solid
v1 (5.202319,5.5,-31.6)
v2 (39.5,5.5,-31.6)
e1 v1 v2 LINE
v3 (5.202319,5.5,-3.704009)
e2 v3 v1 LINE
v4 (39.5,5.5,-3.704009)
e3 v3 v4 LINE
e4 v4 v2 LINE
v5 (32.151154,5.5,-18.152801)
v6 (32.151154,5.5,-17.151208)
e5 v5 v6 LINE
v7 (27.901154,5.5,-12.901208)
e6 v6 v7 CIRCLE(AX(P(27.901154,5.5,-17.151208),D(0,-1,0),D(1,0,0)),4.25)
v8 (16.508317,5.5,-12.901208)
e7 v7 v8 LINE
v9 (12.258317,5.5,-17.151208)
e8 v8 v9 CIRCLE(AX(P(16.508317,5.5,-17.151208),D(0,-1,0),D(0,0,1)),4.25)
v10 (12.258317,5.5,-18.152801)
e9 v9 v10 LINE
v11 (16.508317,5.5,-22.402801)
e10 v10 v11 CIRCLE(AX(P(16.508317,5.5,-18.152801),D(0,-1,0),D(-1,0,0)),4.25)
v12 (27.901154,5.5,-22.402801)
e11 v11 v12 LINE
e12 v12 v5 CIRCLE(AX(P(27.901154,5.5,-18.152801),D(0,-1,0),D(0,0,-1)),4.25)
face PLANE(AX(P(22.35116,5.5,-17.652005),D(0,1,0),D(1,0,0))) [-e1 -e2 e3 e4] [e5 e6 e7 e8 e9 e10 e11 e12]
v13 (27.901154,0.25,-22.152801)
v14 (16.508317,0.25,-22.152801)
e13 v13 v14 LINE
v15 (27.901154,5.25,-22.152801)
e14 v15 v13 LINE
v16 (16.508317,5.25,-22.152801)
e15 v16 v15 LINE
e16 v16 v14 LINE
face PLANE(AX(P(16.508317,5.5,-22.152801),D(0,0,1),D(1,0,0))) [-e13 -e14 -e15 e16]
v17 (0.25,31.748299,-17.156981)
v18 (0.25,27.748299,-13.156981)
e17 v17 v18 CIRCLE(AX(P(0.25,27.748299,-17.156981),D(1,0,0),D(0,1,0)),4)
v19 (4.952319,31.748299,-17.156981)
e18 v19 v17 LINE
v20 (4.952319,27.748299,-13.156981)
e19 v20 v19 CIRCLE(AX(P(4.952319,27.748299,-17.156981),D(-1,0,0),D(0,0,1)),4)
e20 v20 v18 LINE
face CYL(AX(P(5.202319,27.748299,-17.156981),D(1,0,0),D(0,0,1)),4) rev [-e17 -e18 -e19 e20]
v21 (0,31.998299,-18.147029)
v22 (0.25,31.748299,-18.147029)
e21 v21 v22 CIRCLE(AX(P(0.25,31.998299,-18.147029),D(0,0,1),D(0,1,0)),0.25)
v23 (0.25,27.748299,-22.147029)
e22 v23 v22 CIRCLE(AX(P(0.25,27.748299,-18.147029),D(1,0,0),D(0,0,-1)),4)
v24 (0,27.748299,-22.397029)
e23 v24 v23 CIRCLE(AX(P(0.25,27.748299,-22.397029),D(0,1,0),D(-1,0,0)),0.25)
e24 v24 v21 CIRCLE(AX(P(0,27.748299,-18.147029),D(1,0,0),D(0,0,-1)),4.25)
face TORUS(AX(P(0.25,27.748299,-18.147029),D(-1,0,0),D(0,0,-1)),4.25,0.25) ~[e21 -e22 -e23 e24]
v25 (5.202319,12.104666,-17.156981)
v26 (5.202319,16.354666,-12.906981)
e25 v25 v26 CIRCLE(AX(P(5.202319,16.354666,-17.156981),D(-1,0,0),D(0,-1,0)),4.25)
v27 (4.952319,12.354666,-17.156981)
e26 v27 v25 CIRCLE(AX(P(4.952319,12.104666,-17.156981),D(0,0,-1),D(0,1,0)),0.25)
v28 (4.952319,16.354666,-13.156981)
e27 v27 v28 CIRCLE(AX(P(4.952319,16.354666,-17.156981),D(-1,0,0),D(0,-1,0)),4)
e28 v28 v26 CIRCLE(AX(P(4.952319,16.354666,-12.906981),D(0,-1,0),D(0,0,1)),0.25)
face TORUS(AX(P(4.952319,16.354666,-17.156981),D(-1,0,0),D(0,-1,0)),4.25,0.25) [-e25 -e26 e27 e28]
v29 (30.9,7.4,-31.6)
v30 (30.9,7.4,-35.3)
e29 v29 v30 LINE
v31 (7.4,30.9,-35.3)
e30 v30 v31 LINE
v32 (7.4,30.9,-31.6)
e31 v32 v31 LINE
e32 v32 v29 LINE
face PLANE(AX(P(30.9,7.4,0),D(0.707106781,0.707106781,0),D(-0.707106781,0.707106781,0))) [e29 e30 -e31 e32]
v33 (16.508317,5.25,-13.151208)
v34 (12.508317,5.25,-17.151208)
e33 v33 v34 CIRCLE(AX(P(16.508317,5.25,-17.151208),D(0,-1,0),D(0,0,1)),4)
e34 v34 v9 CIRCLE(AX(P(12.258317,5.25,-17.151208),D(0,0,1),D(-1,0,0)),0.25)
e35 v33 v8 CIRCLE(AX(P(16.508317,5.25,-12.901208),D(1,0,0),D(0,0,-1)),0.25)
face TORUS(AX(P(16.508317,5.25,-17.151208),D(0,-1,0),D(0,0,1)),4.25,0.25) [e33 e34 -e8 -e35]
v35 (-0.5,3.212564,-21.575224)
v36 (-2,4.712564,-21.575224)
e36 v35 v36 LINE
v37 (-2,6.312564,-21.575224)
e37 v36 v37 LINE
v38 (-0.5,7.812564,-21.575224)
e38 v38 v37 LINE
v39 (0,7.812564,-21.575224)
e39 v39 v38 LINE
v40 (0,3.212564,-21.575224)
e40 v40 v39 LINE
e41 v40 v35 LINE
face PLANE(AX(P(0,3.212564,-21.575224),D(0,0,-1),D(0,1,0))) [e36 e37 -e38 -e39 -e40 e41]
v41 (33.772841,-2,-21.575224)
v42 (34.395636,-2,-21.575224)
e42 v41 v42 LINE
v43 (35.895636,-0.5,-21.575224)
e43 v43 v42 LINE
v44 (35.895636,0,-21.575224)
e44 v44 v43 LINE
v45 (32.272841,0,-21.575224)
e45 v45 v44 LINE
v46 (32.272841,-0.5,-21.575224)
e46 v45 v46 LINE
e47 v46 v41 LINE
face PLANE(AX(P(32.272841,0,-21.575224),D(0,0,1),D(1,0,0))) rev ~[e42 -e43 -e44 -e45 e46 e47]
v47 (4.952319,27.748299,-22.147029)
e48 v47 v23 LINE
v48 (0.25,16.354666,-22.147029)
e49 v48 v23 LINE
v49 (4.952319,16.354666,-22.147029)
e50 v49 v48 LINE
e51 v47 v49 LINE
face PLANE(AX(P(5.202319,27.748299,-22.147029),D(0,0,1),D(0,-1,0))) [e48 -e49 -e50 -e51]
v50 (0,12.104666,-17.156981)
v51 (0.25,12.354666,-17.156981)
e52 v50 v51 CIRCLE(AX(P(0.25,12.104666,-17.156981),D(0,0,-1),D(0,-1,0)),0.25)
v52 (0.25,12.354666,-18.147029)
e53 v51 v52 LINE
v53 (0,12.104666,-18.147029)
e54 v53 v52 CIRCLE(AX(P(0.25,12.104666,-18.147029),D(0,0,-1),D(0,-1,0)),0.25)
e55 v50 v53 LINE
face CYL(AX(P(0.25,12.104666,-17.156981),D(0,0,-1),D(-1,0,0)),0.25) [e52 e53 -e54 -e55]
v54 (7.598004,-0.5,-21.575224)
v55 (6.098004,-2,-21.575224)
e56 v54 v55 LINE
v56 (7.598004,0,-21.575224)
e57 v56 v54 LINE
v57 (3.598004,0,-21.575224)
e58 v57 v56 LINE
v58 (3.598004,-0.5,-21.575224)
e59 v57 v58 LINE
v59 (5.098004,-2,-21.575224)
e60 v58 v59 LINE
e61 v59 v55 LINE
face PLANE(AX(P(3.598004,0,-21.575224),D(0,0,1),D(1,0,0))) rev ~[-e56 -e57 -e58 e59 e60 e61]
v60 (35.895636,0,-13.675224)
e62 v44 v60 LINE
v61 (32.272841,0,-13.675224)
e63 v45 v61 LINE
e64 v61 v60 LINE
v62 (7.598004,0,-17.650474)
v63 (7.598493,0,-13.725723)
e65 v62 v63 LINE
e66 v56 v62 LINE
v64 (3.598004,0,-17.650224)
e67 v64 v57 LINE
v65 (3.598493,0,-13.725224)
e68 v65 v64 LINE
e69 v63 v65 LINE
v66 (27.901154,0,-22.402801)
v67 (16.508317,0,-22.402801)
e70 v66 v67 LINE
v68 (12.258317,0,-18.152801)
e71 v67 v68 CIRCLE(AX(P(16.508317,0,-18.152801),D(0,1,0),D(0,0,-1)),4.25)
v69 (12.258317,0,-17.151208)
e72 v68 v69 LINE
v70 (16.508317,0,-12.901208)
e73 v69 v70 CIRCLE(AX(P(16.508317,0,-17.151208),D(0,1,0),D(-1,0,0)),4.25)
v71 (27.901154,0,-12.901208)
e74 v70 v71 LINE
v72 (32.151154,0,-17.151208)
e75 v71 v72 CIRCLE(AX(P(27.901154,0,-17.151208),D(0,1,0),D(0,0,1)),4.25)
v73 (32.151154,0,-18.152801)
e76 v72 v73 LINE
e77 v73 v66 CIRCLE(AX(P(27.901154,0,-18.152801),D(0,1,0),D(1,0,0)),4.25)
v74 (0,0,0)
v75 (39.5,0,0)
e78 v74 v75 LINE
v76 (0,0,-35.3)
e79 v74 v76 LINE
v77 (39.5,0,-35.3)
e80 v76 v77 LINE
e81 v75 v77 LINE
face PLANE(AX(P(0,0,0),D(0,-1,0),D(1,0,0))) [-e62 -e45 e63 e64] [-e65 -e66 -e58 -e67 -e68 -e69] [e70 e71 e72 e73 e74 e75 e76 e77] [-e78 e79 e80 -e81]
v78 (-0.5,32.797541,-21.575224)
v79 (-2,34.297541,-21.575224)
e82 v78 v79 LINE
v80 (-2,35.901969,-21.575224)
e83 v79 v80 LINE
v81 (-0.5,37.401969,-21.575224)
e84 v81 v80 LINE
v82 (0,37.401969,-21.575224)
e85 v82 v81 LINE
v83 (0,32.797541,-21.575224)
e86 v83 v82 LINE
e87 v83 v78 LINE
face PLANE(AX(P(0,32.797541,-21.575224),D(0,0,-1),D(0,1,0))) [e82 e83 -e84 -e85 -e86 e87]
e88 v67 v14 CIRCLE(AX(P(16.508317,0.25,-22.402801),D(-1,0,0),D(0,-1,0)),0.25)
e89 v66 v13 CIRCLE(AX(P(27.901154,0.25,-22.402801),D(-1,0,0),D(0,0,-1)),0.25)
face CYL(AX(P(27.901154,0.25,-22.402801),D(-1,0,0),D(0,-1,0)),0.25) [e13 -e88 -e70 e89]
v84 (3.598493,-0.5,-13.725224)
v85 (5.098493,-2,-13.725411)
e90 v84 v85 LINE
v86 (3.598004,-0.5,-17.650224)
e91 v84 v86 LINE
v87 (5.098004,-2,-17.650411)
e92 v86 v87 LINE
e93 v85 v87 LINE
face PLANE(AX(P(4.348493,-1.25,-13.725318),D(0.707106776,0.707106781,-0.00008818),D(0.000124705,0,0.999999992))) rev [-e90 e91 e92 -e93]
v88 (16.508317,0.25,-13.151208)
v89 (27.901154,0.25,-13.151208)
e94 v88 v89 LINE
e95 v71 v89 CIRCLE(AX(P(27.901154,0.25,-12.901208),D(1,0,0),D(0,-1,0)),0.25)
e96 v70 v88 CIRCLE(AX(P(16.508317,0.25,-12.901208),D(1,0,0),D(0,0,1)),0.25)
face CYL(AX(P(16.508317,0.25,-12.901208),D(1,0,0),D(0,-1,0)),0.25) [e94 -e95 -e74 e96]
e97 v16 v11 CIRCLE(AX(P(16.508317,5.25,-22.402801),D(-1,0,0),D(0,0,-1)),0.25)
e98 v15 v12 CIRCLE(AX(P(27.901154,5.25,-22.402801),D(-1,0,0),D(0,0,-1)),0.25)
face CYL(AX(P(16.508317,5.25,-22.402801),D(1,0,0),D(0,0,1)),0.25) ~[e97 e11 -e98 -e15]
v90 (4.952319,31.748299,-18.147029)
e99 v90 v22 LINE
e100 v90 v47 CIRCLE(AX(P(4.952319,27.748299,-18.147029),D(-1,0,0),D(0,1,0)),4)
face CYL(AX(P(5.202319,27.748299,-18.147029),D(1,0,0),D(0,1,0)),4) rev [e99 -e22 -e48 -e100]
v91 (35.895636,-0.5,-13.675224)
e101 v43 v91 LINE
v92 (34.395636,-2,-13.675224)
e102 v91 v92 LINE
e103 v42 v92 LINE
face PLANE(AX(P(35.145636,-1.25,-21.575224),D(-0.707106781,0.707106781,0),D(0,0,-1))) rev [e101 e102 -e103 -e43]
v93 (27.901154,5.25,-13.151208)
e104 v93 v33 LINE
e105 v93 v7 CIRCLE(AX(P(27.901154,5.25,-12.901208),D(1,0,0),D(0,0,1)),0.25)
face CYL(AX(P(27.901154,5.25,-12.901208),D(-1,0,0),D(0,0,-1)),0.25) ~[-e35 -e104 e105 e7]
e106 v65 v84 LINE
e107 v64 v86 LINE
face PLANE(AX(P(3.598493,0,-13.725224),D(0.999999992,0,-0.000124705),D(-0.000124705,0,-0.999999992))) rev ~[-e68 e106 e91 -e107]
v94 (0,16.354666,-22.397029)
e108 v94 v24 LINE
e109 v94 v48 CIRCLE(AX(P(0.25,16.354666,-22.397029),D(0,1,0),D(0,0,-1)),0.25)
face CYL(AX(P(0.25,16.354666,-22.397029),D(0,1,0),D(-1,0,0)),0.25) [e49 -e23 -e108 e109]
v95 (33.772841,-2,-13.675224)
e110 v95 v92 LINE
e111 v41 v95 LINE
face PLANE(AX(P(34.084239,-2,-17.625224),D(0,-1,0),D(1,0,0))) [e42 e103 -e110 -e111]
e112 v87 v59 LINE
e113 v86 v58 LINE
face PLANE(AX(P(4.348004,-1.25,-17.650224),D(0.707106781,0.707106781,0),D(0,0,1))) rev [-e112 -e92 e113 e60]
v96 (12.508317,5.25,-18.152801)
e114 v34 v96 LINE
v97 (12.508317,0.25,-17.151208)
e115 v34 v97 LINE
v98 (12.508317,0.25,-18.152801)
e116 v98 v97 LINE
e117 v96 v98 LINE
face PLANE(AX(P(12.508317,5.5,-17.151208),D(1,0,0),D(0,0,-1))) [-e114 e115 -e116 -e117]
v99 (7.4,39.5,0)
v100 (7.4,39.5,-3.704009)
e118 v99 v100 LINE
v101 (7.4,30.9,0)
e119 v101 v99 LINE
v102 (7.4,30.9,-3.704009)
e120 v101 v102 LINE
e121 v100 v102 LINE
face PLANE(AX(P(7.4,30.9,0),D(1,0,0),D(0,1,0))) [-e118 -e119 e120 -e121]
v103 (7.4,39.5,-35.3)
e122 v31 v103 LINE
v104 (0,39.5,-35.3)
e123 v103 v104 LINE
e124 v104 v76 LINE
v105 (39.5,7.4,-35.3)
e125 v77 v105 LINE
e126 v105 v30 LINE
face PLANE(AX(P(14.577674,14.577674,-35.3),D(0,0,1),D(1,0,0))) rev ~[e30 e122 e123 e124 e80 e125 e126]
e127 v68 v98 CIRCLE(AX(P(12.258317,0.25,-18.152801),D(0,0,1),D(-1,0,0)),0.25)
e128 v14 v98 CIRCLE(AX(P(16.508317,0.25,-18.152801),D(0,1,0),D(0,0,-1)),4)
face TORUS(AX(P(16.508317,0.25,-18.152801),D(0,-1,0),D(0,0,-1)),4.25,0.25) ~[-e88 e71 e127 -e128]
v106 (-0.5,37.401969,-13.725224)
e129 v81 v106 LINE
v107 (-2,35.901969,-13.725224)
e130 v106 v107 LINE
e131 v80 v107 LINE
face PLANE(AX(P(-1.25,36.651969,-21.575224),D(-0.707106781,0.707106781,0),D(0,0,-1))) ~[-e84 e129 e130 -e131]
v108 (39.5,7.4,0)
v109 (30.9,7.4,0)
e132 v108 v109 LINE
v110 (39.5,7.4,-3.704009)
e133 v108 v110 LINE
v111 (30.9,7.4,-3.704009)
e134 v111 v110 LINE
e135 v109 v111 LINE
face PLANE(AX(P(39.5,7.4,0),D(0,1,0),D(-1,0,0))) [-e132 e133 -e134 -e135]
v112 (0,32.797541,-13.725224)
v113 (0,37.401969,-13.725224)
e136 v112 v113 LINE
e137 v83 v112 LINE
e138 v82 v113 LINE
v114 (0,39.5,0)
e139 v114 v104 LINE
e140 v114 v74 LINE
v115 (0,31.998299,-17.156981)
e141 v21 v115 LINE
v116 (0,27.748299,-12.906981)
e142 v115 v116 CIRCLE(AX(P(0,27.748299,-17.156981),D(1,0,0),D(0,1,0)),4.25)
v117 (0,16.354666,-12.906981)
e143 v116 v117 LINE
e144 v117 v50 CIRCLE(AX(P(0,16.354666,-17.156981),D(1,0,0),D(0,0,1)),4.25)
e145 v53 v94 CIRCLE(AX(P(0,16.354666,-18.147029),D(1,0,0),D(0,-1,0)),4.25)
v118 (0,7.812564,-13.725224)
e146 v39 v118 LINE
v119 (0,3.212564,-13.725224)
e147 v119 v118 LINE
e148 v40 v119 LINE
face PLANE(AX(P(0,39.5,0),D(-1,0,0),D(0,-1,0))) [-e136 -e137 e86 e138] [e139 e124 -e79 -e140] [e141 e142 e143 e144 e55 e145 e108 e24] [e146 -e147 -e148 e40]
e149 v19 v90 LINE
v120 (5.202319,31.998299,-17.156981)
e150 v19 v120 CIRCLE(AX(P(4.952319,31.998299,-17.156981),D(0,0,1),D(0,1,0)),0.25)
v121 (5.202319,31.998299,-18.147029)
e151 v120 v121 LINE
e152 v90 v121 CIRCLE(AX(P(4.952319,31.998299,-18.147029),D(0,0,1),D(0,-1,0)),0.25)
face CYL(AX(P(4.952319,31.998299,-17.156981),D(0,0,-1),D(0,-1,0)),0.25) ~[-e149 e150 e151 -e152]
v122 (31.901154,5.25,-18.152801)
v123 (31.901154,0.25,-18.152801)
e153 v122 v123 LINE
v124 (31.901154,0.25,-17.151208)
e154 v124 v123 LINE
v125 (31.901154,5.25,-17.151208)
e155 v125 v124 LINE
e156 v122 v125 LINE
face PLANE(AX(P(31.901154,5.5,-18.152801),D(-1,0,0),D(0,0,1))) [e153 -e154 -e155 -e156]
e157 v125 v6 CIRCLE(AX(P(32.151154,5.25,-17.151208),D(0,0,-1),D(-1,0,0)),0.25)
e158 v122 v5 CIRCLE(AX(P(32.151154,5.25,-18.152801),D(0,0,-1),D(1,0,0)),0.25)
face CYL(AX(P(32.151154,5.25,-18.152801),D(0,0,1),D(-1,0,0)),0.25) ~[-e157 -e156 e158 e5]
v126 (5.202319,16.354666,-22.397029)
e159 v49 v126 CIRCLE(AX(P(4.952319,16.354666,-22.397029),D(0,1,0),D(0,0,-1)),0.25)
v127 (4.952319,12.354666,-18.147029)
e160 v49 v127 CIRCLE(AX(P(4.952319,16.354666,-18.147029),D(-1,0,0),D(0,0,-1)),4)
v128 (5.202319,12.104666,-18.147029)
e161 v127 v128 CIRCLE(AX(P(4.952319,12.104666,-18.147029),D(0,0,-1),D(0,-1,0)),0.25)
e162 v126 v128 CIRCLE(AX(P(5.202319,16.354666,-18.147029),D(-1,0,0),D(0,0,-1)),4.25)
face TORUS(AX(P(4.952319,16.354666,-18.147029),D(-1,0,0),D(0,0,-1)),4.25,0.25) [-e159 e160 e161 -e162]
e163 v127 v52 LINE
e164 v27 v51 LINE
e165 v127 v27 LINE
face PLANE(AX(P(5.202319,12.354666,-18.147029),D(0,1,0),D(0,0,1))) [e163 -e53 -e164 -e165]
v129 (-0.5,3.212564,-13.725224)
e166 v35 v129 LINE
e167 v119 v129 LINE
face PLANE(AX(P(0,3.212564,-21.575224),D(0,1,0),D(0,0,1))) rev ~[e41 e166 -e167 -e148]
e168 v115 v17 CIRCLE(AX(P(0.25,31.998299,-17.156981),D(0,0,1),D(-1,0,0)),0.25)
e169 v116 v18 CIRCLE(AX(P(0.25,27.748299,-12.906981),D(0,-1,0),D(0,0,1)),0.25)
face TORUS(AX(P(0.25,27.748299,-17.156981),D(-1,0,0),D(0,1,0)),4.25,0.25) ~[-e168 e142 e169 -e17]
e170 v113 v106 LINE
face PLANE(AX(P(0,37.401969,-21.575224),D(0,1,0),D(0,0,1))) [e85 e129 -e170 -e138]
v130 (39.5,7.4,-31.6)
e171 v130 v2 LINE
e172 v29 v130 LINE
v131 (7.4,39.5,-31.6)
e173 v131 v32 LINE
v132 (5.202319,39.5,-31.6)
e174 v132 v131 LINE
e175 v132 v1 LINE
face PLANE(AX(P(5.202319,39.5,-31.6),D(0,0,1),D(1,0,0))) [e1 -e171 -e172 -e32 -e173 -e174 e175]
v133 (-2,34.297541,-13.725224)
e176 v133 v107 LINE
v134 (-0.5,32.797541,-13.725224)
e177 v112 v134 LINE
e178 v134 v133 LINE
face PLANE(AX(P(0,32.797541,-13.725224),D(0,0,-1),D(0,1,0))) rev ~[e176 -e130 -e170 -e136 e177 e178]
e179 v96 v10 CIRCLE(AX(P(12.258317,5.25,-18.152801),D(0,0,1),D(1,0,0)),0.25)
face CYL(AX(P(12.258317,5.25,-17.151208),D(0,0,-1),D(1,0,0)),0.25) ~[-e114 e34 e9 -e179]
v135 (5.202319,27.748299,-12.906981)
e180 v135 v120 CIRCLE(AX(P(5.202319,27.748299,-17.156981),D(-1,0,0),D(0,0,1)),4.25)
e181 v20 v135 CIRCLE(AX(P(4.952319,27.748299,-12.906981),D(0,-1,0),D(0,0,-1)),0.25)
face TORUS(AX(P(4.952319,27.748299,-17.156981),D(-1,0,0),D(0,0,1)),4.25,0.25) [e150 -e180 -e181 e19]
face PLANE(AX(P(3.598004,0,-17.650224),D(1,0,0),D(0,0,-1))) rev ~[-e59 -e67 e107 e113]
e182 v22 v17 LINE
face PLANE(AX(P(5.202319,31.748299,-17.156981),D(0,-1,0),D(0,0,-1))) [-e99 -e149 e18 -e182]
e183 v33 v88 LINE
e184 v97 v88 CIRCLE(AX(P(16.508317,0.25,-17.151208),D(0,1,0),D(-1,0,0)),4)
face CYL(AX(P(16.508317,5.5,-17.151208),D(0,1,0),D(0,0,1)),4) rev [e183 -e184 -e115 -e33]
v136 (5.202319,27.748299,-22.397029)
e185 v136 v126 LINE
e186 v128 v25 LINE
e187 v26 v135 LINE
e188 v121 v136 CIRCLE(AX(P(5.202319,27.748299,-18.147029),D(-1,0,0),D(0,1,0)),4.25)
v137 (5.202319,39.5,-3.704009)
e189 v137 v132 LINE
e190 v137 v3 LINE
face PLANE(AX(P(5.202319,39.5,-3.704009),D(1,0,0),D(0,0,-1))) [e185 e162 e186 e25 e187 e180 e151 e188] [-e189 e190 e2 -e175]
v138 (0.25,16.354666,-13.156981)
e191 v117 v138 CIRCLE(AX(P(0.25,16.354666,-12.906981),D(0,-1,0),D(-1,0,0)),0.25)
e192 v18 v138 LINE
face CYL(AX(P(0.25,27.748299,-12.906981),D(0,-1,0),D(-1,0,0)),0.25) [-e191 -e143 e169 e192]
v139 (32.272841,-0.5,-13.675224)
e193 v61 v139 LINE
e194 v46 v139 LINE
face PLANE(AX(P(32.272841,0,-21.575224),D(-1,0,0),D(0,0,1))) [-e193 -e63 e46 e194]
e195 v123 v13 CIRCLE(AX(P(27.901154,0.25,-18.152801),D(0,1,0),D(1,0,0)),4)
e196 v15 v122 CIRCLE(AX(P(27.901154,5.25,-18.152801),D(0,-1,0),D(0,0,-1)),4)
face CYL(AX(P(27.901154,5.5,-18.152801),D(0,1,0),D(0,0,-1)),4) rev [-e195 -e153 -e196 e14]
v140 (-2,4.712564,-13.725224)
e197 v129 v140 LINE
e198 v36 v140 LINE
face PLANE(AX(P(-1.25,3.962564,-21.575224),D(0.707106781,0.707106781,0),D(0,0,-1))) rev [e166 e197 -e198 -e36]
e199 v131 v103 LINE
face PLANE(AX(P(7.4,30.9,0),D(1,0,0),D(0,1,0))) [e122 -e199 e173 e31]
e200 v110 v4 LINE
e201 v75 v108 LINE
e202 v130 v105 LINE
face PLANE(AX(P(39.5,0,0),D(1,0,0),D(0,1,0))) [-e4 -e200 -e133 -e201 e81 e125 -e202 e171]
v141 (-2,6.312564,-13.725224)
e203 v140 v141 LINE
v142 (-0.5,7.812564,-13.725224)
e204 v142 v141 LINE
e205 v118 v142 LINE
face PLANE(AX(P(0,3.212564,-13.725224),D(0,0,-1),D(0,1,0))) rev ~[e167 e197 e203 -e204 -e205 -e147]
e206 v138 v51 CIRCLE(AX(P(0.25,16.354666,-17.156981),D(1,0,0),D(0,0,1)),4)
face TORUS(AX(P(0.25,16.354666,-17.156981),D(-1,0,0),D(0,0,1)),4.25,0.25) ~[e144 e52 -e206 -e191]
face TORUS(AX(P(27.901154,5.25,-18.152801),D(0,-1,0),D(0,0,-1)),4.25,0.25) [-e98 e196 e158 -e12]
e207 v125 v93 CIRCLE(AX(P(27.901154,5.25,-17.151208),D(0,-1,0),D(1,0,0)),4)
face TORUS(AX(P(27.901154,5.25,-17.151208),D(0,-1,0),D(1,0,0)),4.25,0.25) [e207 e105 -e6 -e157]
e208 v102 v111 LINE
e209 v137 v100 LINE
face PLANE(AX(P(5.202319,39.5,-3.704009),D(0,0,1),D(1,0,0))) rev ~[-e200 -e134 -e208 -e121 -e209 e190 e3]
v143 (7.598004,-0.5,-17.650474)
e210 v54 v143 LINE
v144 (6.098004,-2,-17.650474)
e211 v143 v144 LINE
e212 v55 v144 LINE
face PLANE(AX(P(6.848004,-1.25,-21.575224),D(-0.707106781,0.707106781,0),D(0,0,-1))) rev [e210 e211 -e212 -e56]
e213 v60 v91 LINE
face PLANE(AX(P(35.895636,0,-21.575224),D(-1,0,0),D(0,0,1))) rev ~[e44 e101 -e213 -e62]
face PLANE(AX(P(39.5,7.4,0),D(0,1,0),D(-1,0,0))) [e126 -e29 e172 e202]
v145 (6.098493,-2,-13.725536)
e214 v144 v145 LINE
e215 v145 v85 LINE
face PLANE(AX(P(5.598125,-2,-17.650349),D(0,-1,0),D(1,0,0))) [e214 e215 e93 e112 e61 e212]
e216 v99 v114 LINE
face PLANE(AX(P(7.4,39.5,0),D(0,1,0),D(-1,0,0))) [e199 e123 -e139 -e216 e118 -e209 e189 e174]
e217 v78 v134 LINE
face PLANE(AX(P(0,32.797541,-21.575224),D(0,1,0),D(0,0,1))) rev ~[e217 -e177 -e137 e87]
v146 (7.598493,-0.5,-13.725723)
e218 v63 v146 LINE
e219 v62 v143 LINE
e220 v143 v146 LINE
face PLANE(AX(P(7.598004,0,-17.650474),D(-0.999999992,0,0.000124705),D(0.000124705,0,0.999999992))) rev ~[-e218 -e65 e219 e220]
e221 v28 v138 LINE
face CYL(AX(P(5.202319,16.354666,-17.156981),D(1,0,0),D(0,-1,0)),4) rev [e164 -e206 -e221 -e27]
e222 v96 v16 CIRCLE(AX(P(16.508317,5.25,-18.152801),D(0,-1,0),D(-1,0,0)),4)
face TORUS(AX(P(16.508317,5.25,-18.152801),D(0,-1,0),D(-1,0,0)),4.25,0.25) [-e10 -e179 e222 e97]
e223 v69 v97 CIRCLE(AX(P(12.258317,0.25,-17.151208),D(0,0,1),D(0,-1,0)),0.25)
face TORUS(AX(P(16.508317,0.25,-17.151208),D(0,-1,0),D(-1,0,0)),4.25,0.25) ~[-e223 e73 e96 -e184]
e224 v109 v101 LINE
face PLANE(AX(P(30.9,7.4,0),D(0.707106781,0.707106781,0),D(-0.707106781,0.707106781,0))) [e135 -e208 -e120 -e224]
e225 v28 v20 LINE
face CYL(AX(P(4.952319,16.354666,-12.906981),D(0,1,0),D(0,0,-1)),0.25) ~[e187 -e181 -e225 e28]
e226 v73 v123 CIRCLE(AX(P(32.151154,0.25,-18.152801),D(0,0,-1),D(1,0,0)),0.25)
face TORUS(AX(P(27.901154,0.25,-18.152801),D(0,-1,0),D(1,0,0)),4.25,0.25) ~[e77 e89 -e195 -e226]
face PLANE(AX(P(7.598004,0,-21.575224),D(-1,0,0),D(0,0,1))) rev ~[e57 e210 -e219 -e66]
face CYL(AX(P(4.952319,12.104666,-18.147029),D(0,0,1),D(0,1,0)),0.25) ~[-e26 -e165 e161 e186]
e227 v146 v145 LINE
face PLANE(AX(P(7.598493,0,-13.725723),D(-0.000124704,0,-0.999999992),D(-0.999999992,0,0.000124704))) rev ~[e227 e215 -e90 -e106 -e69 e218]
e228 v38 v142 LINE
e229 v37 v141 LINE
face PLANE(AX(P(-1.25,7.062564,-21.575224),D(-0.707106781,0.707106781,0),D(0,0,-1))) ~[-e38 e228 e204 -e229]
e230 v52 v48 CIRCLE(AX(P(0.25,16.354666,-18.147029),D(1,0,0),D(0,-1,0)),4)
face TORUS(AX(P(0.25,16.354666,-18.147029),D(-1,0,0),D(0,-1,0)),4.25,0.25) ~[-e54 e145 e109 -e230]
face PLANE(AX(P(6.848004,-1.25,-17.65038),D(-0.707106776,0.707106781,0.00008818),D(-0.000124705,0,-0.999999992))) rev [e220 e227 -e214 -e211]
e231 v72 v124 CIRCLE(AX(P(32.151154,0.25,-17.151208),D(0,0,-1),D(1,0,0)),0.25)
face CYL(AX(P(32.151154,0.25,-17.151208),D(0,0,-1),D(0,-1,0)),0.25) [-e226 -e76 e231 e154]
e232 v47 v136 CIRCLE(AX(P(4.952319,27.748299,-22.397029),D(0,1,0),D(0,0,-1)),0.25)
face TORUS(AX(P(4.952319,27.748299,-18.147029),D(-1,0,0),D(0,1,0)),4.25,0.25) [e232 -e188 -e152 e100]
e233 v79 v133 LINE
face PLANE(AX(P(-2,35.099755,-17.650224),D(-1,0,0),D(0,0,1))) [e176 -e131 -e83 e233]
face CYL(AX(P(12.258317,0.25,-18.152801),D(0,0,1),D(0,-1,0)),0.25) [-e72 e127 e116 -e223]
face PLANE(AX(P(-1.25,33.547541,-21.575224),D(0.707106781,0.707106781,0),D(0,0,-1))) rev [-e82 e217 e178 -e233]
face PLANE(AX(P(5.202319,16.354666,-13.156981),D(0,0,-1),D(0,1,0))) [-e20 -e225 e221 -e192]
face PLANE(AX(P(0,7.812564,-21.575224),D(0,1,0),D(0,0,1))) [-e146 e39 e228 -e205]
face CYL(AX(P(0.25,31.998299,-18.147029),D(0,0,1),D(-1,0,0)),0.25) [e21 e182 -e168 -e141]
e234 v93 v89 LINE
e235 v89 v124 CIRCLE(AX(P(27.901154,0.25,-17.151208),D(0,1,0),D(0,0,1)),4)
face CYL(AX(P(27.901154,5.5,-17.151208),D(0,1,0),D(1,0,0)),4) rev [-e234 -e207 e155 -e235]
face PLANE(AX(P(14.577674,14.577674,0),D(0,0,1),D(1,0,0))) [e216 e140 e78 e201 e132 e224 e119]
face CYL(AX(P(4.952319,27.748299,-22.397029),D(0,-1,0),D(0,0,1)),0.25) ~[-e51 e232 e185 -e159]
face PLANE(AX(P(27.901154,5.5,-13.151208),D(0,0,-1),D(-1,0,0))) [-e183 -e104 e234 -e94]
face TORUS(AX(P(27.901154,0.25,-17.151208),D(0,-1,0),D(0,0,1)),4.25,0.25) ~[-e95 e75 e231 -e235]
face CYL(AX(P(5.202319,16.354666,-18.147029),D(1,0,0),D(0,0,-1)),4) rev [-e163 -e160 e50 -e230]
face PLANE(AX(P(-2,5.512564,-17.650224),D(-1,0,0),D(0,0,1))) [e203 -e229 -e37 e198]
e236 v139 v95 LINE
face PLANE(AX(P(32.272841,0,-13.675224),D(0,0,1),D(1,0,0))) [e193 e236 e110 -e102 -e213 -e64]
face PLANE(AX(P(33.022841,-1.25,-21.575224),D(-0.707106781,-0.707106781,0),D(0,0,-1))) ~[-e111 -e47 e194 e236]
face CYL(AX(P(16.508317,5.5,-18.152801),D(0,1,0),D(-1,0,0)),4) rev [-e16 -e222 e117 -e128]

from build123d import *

# Parameters (mm, degrees)
BOSS_EXTRU_1_DEPTH      = 35.3
ESQUISSE2_W             = 34.2976806
ESQUISSE2_H             = 27.8959906
ENL_V_MAT_EXTRU_1_DEPTH = 34
ENL_V_MAT_EXTRU_5_DEPTH = 34
CONG_1_R                = 0.25
ENL_V_MAT_EXTRU_6_DEPTH = 34
CONG_2_R                = 0.25
BOSS_EXTRU_2_DEPTH      = 2
CHANFREIN1_SIZE         = 1.5
ESQUISSE6_W             = 3.622795385
ESQUISSE6_H             = 7.9
BOSS_EXTRU_4_DEPTH      = 2
CHANFREIN2_SIZE         = 1.5
ESQUISSE7_W             = 7.85
ESQUISSE7_H             = 4.6
ESQUISSE7_H_2           = 4.604428761
BOSS_EXTRU_5_DEPTH      = 2
CHANFREIN3_SIZE         = 1.5


with BuildPart() as part:
    # Esquisse1 → Boss.-Extru.1 (new body)
    with BuildSketch(Plane.XY):
        Polygon((0, 0), (39.5, 0), (39.5, 7.4), (30.9, 7.4), (7.4, 30.9), (7.4, 39.5), (0, 39.5), align=None)
    extrude(amount=-BOSS_EXTRU_1_DEPTH)

    # Esquisse2 → Enlèv. mat.-Extru.1 (cut)
    with BuildSketch(Plane(origin=(0, 39.5, 0), x_dir=(1, 0, 0), z_dir=(0, 1, 0))):
        with Locations((22.3511597, 17.6520047)):
            Rectangle(ESQUISSE2_W, ESQUISSE2_H)
    extrude(amount=-ENL_V_MAT_EXTRU_1_DEPTH, mode=Mode.SUBTRACT)

    # Esquisse3 → Enlèv. mat.-Extru.5 (cut)
    with BuildSketch(Plane(origin=(5.2023194, 0, 0), x_dir=(0, 0, -1), z_dir=(1, 0, 0))):
        with BuildLine():
            Line((18.147028677, 12.354666202), (17.156980723, 12.354666202))
            ThreePointArc((17.156980723, 12.354666202), (14.328553598, 13.526239077), (13.156980723, 16.354666202))
            Line((13.156980723, 16.354666202), (13.156980723, 27.748298541))
            ThreePointArc((13.156980723, 27.748298541), (14.328553598, 30.576725666), (17.156980723, 31.748298541))
            Line((17.156980723, 31.748298541), (18.147028677, 31.748298541))
            ThreePointArc((18.147028677, 31.748298541), (20.975455802, 30.576725666), (22.147028677, 27.748298541))
            Line((22.147028677, 27.748298541), (22.147028677, 16.354666202))
            ThreePointArc((22.147028677, 16.354666202), (20.975455802, 13.526239077), (18.147028677, 12.354666202))
        make_face()
    extrude(amount=-ENL_V_MAT_EXTRU_5_DEPTH, mode=Mode.SUBTRACT)

    # Congé1
    cong_1_edges = [part.edges().sort_by_distance(p)[0] for p in [
        (0, 13.526239077, -20.975455802),
        (0, 12.354666202, -17.6520047),
        (0, 13.526239077, -14.328553598),
        (0, 22.051482371, -13.156980723),
        (0, 30.576725666, -14.328553598),
        (0, 31.748298541, -17.6520047),
        (0, 30.576725666, -20.975455802),
        (0, 22.051482371, -22.147028677),
        (5.2023194, 13.526239077, -20.975455802),
        (5.2023194, 22.051482371, -22.147028677),
        (5.2023194, 30.576725666, -20.975455802),
        (5.2023194, 31.748298541, -17.6520047),
        (5.2023194, 30.576725666, -14.328553598),
        (5.2023194, 22.051482371, -13.156980723),
        (5.2023194, 13.526239077, -14.328553598),
        (5.2023194, 12.354666202, -17.6520047),
    ]]
    fillet(cong_1_edges, radius=CONG_1_R)

    # Esquisse4 → Enlèv. mat.-Extru.6 (cut)
    with BuildSketch(Plane(origin=(0, 5.5, 0), x_dir=(1, 0, 0), z_dir=(0, 1, 0))):
        with BuildLine():
            Line((12.508316826, 17.151207911), (12.508316826, 18.152801489))
            ThreePointArc((12.508316826, 18.152801489), (13.679889701, 20.981228614), (16.508316826, 22.152801489))
            Line((16.508316826, 22.152801489), (27.901153551, 22.152801489))
            ThreePointArc((27.901153551, 22.152801489), (30.729580676, 20.981228614), (31.901153551, 18.152801489))
            Line((31.901153551, 18.152801489), (31.901153551, 17.151207911))
            ThreePointArc((31.901153551, 17.151207911), (30.729580676, 14.322780786), (27.901153551, 13.151207911))
            Line((27.901153551, 13.151207911), (16.508316826, 13.151207911))
            ThreePointArc((16.508316826, 13.151207911), (13.679889701, 14.322780786), (12.508316826, 17.151207911))
        make_face()
    extrude(amount=-ENL_V_MAT_EXTRU_6_DEPTH, mode=Mode.SUBTRACT)

    # Congé2
    cong_2_edges = [part.edges().sort_by_distance(p)[0] for p in [
        (30.729580676, 0, -20.981228614),
        (31.901153551, 0, -17.6520047),
        (30.729580676, 0, -14.322780786),
        (22.204735188, 0, -13.151207911),
        (13.679889701, 0, -14.322780786),
        (12.508316826, 0, -17.6520047),
        (13.679889701, 0, -20.981228614),
        (22.204735188, 0, -22.152801489),
        (30.729580676, 5.5, -20.981228614),
        (22.204735188, 5.5, -22.152801489),
        (13.679889701, 5.5, -20.981228614),
        (12.508316826, 5.5, -17.6520047),
        (13.679889701, 5.5, -14.322780786),
        (22.204735188, 5.5, -13.151207911),
        (30.729580676, 5.5, -14.322780786),
        (31.901153551, 5.5, -17.6520047),
    ]]
    fillet(cong_2_edges, radius=CONG_2_R)

    # Esquisse5 → Boss.-Extru.2 (add)
    with BuildSketch(Plane.XZ):
        Polygon((3.598003918, -17.650224344), (3.598003918, -21.575224344), (7.598003918, -21.575224344), (7.598003918, -17.650473753), (7.598493353, -13.725723193), (3.598493384, -13.725224375), align=None)
    extrude(amount=BOSS_EXTRU_2_DEPTH)

    # Chanfrein1
    chanfrein1_edges = [part.edges().sort_by_distance(p)[0] for p in [
        (7.598248636, -2, -15.688098473),
        (3.598248651, -2, -15.687724359),
        (3.598003918, -2, -19.612724344),
        (7.598003918, -2, -19.612849049),
    ]]
    chamfer(chanfrein1_edges, length=CHANFREIN1_SIZE)

    # Esquisse6 → Boss.-Extru.4 (add)
    with BuildSketch(Plane.XZ):
        with Locations((34.084238676, -17.625224344)):
            Rectangle(ESQUISSE6_W, ESQUISSE6_H)
    extrude(amount=BOSS_EXTRU_4_DEPTH)

    # Chanfrein2
    chanfrein2_edges = [part.edges().sort_by_distance(p)[0] for p in [
        (35.895636368, -2, -17.625224344),
        (32.272840983, -2, -17.625224344),
    ]]
    chamfer(chanfrein2_edges, length=CHANFREIN2_SIZE)

    # Esquisse7 → Boss.-Extru.5 (add)
    with BuildSketch(Plane.ZY):
        with Locations((-17.650224344, 5.512563988)):
            Rectangle(ESQUISSE7_W, ESQUISSE7_H)
        with Locations((-17.650224344, 35.099755073)):
            Rectangle(ESQUISSE7_W, ESQUISSE7_H_2)
    extrude(amount=BOSS_EXTRU_5_DEPTH)

    # Chanfrein3
    chanfrein3_edges = [part.edges().sort_by_distance(p)[0] for p in [
        (-2, 7.812563988, -17.650224344),
        (-2, 3.212563988, -17.650224344),
        (-2, 37.401969453, -17.650224344),
        (-2, 32.797540692, -17.650224344),
    ]]
    chamfer(chanfrein3_edges, length=CHANFREIN3_SIZE)


solid = part.part
